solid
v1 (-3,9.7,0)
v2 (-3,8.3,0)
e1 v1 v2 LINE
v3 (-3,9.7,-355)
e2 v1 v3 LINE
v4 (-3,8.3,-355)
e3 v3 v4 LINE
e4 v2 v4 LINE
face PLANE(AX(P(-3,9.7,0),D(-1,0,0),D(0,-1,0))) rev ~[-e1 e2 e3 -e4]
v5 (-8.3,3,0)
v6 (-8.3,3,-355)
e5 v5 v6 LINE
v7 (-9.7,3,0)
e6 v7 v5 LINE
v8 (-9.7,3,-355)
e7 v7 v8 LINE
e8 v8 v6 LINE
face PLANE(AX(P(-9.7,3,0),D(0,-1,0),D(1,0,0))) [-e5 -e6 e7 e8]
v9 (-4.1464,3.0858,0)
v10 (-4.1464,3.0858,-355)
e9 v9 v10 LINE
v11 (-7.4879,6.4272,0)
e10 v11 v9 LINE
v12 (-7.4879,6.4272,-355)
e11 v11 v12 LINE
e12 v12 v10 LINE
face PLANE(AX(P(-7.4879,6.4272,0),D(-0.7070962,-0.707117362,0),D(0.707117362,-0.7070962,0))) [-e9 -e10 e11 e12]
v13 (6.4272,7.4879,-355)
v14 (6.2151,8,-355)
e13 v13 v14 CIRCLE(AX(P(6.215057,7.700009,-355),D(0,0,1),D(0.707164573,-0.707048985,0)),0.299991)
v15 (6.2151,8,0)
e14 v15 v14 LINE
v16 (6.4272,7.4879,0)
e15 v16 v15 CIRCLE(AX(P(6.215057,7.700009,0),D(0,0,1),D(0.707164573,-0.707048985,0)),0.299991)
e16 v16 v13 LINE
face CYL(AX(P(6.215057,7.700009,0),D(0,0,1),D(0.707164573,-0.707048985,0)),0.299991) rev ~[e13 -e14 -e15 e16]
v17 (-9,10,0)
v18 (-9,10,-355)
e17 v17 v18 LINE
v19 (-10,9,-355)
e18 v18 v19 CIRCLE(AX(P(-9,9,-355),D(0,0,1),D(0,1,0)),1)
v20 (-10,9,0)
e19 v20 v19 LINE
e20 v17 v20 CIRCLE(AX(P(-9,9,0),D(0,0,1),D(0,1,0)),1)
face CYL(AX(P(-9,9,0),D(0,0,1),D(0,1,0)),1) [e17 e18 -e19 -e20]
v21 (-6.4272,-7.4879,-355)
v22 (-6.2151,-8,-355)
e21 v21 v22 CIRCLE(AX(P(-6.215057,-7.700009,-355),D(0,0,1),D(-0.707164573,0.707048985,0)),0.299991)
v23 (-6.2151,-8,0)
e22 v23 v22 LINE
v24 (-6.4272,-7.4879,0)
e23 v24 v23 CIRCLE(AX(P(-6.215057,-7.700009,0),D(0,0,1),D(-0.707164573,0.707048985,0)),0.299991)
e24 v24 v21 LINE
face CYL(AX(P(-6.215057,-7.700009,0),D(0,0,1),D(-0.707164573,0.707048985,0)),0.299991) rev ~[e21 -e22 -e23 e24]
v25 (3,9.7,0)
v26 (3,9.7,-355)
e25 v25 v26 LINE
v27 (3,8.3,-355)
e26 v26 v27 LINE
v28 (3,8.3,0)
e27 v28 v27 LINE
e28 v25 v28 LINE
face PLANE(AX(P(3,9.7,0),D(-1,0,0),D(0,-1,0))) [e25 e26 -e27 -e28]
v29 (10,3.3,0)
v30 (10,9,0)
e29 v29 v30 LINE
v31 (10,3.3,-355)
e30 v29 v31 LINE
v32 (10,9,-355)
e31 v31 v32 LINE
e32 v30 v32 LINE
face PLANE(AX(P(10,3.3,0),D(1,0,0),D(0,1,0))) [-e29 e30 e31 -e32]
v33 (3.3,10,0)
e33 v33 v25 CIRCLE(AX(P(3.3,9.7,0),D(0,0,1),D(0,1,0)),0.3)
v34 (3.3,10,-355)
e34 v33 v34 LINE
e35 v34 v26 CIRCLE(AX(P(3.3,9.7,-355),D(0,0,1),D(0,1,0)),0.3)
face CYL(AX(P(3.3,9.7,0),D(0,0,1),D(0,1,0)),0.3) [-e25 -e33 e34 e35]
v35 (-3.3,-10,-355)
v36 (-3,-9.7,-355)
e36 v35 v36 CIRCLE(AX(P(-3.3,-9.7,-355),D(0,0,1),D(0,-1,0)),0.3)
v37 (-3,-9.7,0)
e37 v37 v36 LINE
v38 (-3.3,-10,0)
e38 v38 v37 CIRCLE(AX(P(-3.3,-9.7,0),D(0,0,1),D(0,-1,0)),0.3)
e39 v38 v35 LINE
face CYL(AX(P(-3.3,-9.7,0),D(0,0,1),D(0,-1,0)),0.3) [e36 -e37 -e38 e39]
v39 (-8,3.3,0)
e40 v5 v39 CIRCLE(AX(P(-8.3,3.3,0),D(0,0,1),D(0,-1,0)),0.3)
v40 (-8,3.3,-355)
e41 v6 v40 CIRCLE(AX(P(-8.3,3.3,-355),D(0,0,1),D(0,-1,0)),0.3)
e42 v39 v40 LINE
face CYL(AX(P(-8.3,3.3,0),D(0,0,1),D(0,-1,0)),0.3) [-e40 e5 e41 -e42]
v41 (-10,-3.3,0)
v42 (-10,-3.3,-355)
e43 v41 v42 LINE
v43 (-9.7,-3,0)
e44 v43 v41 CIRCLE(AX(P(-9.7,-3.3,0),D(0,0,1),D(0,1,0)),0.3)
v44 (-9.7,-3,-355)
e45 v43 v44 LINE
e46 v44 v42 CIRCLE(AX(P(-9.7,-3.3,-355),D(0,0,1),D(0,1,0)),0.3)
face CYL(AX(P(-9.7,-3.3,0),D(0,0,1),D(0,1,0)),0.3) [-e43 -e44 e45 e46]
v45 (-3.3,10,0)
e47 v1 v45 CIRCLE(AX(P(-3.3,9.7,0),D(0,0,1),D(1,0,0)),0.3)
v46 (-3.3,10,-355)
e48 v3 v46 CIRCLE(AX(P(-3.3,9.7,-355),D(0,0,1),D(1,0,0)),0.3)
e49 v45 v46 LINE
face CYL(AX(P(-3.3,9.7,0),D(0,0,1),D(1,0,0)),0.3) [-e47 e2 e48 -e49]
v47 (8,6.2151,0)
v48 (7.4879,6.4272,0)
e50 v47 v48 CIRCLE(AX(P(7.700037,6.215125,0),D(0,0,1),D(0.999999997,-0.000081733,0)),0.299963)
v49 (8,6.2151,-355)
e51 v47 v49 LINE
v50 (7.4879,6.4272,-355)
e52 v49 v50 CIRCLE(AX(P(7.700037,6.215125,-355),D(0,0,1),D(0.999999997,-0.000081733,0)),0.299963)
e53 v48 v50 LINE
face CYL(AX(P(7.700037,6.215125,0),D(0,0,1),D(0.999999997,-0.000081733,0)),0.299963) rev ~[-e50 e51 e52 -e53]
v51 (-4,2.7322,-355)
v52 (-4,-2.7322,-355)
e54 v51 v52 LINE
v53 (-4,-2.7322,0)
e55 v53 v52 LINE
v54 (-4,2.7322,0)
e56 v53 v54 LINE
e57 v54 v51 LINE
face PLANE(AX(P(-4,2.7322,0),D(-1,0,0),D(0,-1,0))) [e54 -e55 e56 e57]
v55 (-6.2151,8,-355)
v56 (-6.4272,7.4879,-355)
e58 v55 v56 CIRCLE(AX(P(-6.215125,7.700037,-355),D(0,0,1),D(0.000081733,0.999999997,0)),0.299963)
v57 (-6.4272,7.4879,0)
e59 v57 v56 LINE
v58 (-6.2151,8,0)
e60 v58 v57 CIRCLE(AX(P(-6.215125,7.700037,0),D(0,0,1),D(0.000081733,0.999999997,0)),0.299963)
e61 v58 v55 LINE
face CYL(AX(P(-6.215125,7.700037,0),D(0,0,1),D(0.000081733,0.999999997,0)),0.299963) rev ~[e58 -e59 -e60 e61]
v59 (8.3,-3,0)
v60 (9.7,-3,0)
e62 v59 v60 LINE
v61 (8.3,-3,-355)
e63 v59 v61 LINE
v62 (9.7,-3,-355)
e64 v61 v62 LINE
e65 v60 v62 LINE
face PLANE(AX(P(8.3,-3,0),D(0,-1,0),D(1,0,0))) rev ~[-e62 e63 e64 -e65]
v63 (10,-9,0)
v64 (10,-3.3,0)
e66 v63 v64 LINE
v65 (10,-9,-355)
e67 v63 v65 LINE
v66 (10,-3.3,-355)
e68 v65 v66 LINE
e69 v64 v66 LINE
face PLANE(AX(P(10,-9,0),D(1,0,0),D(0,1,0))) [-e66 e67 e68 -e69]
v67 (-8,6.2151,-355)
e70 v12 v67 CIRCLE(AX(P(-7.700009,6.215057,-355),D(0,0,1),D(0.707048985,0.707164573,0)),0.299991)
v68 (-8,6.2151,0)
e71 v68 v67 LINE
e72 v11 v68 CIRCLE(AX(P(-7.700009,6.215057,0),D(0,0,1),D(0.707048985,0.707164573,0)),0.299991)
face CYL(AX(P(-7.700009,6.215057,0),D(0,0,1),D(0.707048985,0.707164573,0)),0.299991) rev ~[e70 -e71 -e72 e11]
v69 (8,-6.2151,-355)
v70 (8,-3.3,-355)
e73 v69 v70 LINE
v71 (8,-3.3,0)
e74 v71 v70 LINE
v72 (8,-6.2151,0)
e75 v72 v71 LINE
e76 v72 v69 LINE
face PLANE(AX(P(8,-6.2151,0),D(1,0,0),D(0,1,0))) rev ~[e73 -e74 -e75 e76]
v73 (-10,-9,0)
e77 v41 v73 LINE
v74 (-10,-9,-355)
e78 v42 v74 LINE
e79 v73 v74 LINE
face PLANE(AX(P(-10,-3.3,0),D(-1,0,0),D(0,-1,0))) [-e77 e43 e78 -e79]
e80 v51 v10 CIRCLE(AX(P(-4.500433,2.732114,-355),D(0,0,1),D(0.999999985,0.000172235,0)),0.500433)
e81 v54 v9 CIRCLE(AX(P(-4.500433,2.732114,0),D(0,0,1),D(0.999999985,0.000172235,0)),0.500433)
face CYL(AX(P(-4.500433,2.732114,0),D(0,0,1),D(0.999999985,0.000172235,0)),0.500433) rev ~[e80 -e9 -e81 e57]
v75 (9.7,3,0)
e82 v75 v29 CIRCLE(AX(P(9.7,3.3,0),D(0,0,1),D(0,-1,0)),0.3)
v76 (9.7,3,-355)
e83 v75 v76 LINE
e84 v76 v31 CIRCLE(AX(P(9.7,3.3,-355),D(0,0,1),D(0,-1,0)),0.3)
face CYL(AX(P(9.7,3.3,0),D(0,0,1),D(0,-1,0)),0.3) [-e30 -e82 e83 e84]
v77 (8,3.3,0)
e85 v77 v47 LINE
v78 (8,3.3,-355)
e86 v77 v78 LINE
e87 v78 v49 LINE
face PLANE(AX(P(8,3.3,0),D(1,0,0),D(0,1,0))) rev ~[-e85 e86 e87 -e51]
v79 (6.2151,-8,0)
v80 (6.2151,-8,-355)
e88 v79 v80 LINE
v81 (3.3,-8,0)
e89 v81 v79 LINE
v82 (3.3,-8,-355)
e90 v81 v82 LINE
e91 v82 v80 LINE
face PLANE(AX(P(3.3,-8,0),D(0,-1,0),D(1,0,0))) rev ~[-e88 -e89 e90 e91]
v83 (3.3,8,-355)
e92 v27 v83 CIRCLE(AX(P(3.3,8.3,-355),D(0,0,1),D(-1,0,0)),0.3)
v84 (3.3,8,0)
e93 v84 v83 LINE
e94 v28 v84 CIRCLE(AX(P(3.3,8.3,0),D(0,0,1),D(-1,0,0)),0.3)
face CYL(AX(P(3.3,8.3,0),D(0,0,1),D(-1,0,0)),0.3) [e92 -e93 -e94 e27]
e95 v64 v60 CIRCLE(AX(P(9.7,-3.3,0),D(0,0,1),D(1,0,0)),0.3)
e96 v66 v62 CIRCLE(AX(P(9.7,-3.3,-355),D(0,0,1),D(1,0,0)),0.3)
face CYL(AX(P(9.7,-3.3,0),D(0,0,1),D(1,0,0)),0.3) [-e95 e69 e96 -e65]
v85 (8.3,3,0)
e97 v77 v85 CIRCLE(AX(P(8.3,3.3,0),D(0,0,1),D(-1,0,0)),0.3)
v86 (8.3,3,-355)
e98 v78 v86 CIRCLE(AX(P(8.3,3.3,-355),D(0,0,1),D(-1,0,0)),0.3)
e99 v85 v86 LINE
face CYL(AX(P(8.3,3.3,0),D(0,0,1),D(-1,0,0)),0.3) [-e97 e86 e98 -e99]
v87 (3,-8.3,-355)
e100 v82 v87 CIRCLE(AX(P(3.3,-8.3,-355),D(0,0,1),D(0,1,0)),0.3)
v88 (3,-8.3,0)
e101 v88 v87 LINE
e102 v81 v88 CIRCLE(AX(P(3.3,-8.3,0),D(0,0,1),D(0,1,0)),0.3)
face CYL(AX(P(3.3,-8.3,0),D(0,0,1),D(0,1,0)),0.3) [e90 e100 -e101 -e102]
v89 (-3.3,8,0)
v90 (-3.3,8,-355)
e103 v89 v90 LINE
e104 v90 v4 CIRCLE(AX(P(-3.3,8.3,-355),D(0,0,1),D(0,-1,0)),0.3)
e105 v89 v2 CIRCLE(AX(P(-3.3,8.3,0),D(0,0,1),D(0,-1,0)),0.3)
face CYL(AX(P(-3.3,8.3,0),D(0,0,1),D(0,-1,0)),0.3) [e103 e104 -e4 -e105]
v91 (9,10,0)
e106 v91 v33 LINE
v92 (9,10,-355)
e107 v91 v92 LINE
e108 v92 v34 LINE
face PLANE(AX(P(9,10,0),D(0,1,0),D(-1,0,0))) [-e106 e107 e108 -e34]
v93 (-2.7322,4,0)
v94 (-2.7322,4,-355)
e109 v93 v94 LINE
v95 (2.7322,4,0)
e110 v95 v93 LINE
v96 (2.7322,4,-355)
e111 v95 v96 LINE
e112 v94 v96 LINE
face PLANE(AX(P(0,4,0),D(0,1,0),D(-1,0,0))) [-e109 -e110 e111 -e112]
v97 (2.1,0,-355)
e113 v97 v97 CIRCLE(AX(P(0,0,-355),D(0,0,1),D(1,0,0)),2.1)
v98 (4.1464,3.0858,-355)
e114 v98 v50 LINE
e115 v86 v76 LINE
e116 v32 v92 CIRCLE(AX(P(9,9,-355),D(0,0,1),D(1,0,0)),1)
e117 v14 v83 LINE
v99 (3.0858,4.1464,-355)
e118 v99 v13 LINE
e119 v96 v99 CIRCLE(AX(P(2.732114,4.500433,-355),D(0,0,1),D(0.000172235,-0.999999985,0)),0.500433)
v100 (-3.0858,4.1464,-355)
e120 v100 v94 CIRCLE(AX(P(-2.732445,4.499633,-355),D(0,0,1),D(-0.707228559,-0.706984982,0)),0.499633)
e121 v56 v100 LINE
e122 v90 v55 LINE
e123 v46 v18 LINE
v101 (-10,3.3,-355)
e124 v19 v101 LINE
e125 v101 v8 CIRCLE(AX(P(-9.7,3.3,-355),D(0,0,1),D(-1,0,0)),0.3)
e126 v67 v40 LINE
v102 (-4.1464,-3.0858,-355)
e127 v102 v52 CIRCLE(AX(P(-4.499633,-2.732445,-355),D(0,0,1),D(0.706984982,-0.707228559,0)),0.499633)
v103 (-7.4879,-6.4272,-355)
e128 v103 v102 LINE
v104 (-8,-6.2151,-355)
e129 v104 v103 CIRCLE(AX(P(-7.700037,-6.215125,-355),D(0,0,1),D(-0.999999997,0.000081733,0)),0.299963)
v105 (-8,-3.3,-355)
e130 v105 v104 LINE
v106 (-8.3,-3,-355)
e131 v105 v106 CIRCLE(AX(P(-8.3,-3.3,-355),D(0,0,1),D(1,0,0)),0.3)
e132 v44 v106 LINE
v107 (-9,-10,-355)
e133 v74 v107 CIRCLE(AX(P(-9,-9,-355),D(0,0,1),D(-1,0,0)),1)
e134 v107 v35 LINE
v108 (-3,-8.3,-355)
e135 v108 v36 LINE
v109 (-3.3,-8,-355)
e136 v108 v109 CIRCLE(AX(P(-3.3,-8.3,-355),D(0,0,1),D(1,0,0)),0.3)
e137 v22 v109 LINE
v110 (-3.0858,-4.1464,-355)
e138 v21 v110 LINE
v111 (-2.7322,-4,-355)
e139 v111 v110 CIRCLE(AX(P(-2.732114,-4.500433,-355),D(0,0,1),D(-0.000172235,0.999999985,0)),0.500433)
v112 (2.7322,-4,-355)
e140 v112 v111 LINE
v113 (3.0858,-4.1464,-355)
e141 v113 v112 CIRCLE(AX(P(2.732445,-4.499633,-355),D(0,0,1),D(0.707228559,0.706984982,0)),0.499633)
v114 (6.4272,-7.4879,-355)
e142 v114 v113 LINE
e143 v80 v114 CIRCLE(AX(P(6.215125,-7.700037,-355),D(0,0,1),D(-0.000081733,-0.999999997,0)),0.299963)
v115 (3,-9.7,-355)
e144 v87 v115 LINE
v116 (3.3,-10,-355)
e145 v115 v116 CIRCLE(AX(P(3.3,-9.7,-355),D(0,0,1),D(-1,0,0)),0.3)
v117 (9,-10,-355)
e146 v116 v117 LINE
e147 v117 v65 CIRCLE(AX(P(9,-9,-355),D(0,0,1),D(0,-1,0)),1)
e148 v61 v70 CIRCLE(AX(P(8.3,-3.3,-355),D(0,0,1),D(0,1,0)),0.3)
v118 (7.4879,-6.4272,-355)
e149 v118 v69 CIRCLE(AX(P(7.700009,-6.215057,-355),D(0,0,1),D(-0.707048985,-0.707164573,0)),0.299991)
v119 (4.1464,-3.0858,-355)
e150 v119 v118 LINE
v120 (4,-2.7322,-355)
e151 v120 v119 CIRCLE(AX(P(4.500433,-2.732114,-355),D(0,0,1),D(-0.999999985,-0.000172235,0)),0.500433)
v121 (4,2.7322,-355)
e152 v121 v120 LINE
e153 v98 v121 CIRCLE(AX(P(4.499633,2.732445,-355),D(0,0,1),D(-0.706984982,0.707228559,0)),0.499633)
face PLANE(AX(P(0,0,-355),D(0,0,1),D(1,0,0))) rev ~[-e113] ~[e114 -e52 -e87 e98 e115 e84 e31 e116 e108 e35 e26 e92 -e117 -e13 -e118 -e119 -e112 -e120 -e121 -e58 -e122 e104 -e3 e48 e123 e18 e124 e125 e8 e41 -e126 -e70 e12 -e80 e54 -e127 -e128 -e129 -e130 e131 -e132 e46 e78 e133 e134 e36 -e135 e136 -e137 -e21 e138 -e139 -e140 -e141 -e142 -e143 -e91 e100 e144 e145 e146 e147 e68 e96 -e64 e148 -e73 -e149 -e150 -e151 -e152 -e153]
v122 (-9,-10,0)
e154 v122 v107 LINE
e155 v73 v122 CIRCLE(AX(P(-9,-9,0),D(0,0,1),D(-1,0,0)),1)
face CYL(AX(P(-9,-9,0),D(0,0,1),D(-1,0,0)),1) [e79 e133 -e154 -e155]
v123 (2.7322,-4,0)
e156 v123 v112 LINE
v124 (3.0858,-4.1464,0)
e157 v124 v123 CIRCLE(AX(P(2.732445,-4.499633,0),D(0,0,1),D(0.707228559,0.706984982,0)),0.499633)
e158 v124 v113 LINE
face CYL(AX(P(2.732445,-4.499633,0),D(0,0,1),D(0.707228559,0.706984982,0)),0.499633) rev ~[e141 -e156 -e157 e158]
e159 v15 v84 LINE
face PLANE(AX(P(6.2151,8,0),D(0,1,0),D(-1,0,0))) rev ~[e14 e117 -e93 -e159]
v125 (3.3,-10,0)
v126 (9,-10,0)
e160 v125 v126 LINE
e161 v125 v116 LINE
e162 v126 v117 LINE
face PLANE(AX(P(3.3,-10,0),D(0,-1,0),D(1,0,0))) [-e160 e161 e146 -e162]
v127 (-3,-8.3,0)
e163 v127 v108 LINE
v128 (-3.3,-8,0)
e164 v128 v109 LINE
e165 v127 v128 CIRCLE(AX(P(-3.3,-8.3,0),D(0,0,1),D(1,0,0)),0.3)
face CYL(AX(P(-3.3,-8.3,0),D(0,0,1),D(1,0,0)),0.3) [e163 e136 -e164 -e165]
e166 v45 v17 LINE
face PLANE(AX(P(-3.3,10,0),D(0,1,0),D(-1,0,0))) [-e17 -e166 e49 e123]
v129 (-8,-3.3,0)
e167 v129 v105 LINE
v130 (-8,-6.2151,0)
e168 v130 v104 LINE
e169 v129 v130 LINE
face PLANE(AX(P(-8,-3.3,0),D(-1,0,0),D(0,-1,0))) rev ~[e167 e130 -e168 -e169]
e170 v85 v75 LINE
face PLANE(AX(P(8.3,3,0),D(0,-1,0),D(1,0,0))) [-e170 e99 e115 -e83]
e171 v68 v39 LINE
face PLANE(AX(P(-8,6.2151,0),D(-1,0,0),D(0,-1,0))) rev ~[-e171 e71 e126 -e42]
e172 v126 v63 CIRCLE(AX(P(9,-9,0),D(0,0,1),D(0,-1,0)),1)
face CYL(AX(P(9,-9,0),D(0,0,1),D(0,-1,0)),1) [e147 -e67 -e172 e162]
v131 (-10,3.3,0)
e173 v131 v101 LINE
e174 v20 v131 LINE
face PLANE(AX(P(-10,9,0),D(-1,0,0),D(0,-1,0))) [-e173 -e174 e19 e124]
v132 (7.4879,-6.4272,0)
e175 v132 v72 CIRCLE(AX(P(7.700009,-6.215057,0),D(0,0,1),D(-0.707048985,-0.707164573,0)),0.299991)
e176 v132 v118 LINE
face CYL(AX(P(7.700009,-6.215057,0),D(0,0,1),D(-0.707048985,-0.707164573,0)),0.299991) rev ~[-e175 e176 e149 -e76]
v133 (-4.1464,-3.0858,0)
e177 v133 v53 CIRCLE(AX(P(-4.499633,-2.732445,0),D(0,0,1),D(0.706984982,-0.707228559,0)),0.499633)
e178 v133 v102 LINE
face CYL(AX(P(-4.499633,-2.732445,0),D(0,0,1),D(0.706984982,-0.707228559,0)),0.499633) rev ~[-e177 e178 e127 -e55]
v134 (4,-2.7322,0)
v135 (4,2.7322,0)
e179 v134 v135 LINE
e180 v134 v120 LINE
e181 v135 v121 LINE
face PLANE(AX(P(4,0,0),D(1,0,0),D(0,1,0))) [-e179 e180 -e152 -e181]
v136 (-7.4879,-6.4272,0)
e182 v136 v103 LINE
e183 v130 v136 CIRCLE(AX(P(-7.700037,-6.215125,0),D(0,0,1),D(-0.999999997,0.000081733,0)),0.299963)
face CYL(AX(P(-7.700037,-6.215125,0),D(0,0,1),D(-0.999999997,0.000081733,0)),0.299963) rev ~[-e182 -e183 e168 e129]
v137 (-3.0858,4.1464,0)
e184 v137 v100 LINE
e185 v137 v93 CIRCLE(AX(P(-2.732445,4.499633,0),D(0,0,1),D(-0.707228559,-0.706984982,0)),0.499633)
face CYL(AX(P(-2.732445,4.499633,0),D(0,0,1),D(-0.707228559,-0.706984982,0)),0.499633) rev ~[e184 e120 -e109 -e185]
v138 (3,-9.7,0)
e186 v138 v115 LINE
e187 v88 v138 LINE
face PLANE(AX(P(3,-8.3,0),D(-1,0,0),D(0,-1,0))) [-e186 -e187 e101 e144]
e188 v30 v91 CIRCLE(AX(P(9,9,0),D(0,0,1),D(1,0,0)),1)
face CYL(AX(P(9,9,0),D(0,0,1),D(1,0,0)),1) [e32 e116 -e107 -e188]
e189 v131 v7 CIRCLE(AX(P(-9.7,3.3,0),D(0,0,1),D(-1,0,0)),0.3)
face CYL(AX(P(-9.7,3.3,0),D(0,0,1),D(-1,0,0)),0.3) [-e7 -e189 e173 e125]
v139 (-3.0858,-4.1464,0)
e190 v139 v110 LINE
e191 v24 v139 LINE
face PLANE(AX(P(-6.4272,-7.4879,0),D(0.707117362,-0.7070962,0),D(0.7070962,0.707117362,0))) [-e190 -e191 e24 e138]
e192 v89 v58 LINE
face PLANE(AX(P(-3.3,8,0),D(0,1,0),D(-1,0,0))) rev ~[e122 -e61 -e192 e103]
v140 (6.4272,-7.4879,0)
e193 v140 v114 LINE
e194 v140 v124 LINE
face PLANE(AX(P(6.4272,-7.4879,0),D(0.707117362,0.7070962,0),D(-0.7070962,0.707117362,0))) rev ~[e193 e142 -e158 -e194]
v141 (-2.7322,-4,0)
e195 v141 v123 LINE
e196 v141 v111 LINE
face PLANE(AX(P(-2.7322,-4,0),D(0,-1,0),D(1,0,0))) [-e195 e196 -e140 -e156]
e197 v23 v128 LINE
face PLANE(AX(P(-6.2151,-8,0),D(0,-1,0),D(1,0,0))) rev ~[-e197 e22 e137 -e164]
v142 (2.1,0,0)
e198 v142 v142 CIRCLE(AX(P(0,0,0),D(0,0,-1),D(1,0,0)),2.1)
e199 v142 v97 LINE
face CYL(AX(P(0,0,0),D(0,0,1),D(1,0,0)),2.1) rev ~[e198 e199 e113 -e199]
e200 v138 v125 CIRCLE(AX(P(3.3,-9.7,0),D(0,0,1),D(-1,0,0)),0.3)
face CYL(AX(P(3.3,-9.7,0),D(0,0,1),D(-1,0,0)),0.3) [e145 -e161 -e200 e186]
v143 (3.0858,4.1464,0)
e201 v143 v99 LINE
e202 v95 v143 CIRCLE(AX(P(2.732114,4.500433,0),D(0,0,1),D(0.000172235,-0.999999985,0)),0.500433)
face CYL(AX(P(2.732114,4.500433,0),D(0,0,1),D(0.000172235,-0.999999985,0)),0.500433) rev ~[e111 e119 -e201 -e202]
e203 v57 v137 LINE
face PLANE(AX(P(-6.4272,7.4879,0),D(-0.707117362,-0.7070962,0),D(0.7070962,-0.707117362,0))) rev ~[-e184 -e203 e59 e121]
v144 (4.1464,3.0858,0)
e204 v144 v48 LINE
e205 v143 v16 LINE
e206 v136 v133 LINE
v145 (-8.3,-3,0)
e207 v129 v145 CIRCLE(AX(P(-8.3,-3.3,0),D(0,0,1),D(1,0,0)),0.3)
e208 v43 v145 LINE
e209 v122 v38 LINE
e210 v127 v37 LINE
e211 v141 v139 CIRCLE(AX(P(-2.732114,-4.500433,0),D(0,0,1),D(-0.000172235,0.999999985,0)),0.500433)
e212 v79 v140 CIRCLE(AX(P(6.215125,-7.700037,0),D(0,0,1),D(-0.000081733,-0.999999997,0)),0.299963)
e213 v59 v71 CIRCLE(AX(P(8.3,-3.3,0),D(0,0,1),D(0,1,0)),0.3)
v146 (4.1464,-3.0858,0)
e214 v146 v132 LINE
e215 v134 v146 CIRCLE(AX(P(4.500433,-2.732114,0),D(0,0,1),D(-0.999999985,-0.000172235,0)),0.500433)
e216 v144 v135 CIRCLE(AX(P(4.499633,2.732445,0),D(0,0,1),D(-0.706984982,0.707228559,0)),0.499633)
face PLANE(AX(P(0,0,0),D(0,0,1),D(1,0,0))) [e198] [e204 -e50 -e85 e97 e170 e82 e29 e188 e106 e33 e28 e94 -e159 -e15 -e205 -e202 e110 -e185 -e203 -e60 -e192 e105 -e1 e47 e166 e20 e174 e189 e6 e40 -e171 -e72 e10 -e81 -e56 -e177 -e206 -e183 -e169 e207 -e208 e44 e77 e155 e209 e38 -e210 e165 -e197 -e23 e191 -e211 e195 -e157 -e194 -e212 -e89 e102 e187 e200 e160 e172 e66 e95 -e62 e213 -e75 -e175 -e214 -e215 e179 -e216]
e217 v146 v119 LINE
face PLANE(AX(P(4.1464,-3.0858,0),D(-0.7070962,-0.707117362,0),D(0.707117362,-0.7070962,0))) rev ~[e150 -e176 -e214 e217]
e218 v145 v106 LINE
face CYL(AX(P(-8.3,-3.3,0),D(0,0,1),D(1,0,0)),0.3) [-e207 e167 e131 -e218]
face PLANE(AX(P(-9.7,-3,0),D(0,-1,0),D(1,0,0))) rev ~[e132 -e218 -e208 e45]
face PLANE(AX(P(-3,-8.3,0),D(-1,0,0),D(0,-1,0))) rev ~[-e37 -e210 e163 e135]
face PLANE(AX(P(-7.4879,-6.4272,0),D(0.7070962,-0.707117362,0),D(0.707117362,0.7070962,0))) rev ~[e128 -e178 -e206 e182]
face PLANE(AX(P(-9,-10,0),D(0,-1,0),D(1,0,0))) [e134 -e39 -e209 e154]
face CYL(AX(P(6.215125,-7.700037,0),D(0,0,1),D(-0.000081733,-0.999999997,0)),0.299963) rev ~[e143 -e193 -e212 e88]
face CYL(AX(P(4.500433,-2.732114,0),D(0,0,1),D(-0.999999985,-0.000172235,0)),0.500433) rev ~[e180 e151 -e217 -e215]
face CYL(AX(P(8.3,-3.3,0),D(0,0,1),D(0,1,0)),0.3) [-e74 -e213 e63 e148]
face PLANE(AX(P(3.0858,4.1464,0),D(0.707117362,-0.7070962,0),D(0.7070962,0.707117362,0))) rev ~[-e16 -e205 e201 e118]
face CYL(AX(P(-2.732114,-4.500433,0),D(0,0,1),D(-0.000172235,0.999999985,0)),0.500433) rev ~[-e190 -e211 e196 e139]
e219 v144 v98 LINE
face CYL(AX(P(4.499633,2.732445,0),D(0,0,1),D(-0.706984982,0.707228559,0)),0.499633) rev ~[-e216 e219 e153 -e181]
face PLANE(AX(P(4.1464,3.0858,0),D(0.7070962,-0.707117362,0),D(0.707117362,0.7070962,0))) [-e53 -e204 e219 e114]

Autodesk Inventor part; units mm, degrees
ref_plane "YZ Plane" through (0, 0, 0) normal (1, 0, 0) x (0, 1, 0)
ref_plane "XZ Plane" through (0, 0, 0) normal (0, 1, 0) x (-1, 0, 0)
ref_plane "XY Plane" through (0, 0, 0) normal (0, 0, 1) x (1, 0, 0)
sketch "Skizze1" plane through (0, 0, 0) normal (0, 0, 1) x (1, 0, 0)
  line L0 (-28.0083, 0) -> (28.0083, 0) projected
  line L1 (0, -28.0083) -> (0, 28.0083) projected
  line L2 (-14, 0) -> (14, 0)
  line L3 (0, -14) -> (0, 14)
  line L4 (-20.0059, 0) -> (20.0059, 0)
  line L5 (0, -20.0059) -> (0, 20.0059)
  line L6 (-14.2899, 0) -> (14.2899, 0)
  line L7 (0, -14.2899) -> (0, 14.2899)
  line L8 (-10, -10) -> (10, 10) construction
  line L9 (10, -10) -> (-10, 10) construction
  line L10 (-8, -8) -> (8, 8) construction
  line L11 (8, -8) -> (-8, 8) construction
  line L12 (-2.7322, -4) -> (2.7322, -4)
  line L13 (4, -2.7322) -> (4, 2.7322)
  line L14 (2.7322, 4) -> (-2.7322, 4)
  line L15 (-4, 2.7322) -> (-4, -2.7322)
  line L16 (-4, -4) -> (4, 4) construction
  line L17 (4, -4) -> (-4, 4) construction
  arc A0 (-9, 10) -> (-10, 9) centre (-9, 9) ccw
  arc A1 (10, 9) -> (9, 10) centre (9, 9) ccw
  arc A2 (9, -10) -> (10, -9) centre (9, -9) ccw
  arc A3 (-10, -9) -> (-9, -10) centre (-9, -9) ccw
  line L18 (-3, 9.7) -> (-3, 8.3)
  line L19 (3, 9.7) -> (3, 8.3)
  line L20 (6.2151, 8) -> (3.3, 8)
  line L21 (-3.3, 8) -> (-6.2151, 8)
  line L22 (9, 10) -> (3.3, 10)
  line L23 (-3.3, 10) -> (-9, 10)
  line L24 (-9.7, -3) -> (-8.3, -3)
  line L25 (-9.7, 3) -> (-8.3, 3)
  line L26 (-8, 6.2151) -> (-8, 3.3)
  line L27 (-8, -3.3) -> (-8, -6.2151)
  line L28 (-10, 9) -> (-10, 3.3)
  line L29 (-10, -3.3) -> (-10, -9)
  line L30 (-3, -8.3) -> (-3, -9.7)
  line L31 (3, -8.3) -> (3, -9.7)
  line L32 (-9, -10) -> (-3.3, -10)
  line L33 (3.3, -10) -> (9, -10)
  line L34 (-6.2151, -8) -> (-3.3, -8)
  line L35 (3.3, -8) -> (6.2151, -8)
  line L36 (8.3, 3) -> (9.7, 3)
  line L37 (8.3, -3) -> (9.7, -3)
  line L38 (8, -6.2151) -> (8, -3.3)
  line L39 (8, 3.3) -> (8, 6.2151)
  line L40 (10, -9) -> (10, -3.3)
  line L41 (10, 3.3) -> (10, 9)
  arc A4 (-10, 3.3) -> (-9.7, 3) centre (-9.7, 3.3) ccw
  arc A5 (-8.3, 3) -> (-8, 3.3) centre (-8.3, 3.3) ccw
  arc A6 (-9.7, -3) -> (-10, -3.3) centre (-9.7, -3.3) ccw
  arc A7 (-8, -3.3) -> (-8.3, -3) centre (-8.3, -3.3) ccw
  arc A8 (-3.3, -10) -> (-3, -9.7) centre (-3.3, -9.7) ccw
  arc A9 (-3, -8.3) -> (-3.3, -8) centre (-3.3, -8.3) ccw
  arc A10 (3, -9.7) -> (3.3, -10) centre (3.3, -9.7) ccw
  arc A11 (3.3, -8) -> (3, -8.3) centre (3.3, -8.3) ccw
  arc A12 (8.3, -3) -> (8, -3.3) centre (8.3, -3.3) ccw
  arc A13 (10, -3.3) -> (9.7, -3) centre (9.7, -3.3) ccw
  arc A14 (8, 3.3) -> (8.3, 3) centre (8.3, 3.3) ccw
  arc A15 (9.7, 3) -> (10, 3.3) centre (9.7, 3.3) ccw
  arc A16 (3, 8.3) -> (3.3, 8) centre (3.3, 8.3) ccw
  arc A17 (3.3, 10) -> (3, 9.7) centre (3.3, 9.7) ccw
  arc A18 (-3.3, 8) -> (-3, 8.3) centre (-3.3, 8.3) ccw
  arc A19 (-3, 9.7) -> (-3.3, 10) centre (-3.3, 9.7) ccw
  line L42 (-7.4879, 6.4272) -> (-4.1464, 3.0858)
  line L43 (-6.4272, 7.4879) -> (-3.0858, 4.1464)
  line L44 (-6.4272, -7.4879) -> (-3.0858, -4.1464)
  line L45 (-7.4879, -6.4272) -> (-4.1464, -3.0858)
  arc A20 (-7.4879, 6.4272) -> (-8, 6.2151) centre (-7.7, 6.2151) ccw
  arc A21 (-6.2151, 8) -> (-6.4272, 7.4879) centre (-6.2151, 7.7) ccw
  arc A22 (-8, -6.2151) -> (-7.4879, -6.4272) centre (-7.7, -6.2151) ccw
  arc A23 (-6.4272, -7.4879) -> (-6.2151, -8) centre (-6.2151, -7.7) ccw
  line L46 (6.4272, -7.4879) -> (3.0858, -4.1464)
  line L47 (4.1464, -3.0858) -> (7.4879, -6.4272)
  arc A24 (6.2151, -8) -> (6.4272, -7.4879) centre (6.2151, -7.7) ccw
  arc A25 (7.4879, -6.4272) -> (8, -6.2151) centre (7.7, -6.2151) ccw
  line L48 (4.1464, 3.0858) -> (7.4879, 6.4272)
  line L49 (3.0858, 4.1464) -> (6.4272, 7.4879)
  arc A26 (6.4272, 7.4879) -> (6.2151, 8) centre (6.2151, 7.7) ccw
  arc A27 (8, 6.2151) -> (7.4879, 6.4272) centre (7.7, 6.2151) ccw
  arc A28 (-3.0858, 4.1464) -> (-2.7322, 4) centre (-2.7322, 4.5) ccw
  arc A29 (-4, 2.7322) -> (-4.1464, 3.0858) centre (-4.5, 2.7322) ccw
  arc A30 (2.7322, 4) -> (3.0858, 4.1464) centre (2.7322, 4.5) ccw
  arc A31 (4.1464, 3.0858) -> (4, 2.7322) centre (4.5, 2.7322) ccw
  arc A32 (-4.1464, -3.0858) -> (-4, -2.7322) centre (-4.5, -2.7322) ccw
  arc A33 (-2.7322, -4) -> (-3.0858, -4.1464) centre (-2.7322, -4.5) ccw
  arc A34 (3.0858, -4.1464) -> (2.7322, -4) centre (2.7322, -4.5) ccw
  arc A35 (4, -2.7322) -> (4.1464, -3.0858) centre (4.5, -2.7322) ccw
  circle A36 centre (0, 0) radius 2.1
  point P0 (-3, 9.1415)
  point P1 (3, 8.9014)
  point P2 (-8.9764, -3)
  point P3 (-9.1265, 3)
  point P4 (-3, -9.1251)
  point P5 (3, -9.1251)
  point P6 (9.1101, 3)
  point P7 (9.1101, -3)
  dimension "d0" = 20
  dimension "d1" = 20
  dimension "d2" = 16
  dimension "d3" = 16
  dimension "d4" = 8
  dimension "d5" = 8
  dimension "d6" = 1
  dimension "d7" = 6
  dimension "d8" = 6
  dimension "d9" = 6
  dimension "d10" = 6
  dimension "d11" = 0.3
  dimension "d12" = 1.5
  dimension "d13" = 1.5
  dimension "d14" = 0.3
  dimension "d15" = 1.5
  dimension "d16" = 0.3
  dimension "d17" = 1.5
  dimension "d18" = 0.3
  dimension "d19" = 0.5
  dimension "d20" = 4.2
  dimension "d21" = 45
  dimension "d22" = 10
  dimension "d23" = 10
  dimension "d24" = 4
  dimension "d25" = 4
  dimension "d26" = 10
  dimension "d27" = 8
  dimension "d28" = 4
  dimension "d29" = 4
  dimension "d30" = 10
  dimension "d31" = 9.1101
  dimension "d32" = 8
  dimension "d33" = 4
  dimension "d34" = 8.9014
  dimension "d35" = 9.1251
  dimension "d36" = 9.1415
  dimension "d37" = 8.9764
  dimension "d38" = 9.1265
extrude "Extrusion1" add sketch "Skizze1" against normal blind 355 contours L15 A29 L42 A20 L26 A5 L25 A4 L28 A0 L23 A19 L18 A18 L21 A21 L43 A28 L14 L1 A36 L0 | L0 A36 L1 L12 A33 L44 A23 L34 A9 L30 A8 L32 A3 L29 A6 L24 A7 L27 A22 L45 A32 L15 | L1 L14 A30 L49 A26 L20 A16 L19 A17 L22 A1 L41 A15 L36 A14 L39 A27 L48 A31 L13 L0 A36 | A36 L0 L13 A35 L47 A25 L38 A12 L37 A13 L40 A2 L33 A10 L31 A11 L35 A24 L46 A34 L12 L1
properties part number "II Strebe senkrecht Türe" material "Aluminium 6061"
